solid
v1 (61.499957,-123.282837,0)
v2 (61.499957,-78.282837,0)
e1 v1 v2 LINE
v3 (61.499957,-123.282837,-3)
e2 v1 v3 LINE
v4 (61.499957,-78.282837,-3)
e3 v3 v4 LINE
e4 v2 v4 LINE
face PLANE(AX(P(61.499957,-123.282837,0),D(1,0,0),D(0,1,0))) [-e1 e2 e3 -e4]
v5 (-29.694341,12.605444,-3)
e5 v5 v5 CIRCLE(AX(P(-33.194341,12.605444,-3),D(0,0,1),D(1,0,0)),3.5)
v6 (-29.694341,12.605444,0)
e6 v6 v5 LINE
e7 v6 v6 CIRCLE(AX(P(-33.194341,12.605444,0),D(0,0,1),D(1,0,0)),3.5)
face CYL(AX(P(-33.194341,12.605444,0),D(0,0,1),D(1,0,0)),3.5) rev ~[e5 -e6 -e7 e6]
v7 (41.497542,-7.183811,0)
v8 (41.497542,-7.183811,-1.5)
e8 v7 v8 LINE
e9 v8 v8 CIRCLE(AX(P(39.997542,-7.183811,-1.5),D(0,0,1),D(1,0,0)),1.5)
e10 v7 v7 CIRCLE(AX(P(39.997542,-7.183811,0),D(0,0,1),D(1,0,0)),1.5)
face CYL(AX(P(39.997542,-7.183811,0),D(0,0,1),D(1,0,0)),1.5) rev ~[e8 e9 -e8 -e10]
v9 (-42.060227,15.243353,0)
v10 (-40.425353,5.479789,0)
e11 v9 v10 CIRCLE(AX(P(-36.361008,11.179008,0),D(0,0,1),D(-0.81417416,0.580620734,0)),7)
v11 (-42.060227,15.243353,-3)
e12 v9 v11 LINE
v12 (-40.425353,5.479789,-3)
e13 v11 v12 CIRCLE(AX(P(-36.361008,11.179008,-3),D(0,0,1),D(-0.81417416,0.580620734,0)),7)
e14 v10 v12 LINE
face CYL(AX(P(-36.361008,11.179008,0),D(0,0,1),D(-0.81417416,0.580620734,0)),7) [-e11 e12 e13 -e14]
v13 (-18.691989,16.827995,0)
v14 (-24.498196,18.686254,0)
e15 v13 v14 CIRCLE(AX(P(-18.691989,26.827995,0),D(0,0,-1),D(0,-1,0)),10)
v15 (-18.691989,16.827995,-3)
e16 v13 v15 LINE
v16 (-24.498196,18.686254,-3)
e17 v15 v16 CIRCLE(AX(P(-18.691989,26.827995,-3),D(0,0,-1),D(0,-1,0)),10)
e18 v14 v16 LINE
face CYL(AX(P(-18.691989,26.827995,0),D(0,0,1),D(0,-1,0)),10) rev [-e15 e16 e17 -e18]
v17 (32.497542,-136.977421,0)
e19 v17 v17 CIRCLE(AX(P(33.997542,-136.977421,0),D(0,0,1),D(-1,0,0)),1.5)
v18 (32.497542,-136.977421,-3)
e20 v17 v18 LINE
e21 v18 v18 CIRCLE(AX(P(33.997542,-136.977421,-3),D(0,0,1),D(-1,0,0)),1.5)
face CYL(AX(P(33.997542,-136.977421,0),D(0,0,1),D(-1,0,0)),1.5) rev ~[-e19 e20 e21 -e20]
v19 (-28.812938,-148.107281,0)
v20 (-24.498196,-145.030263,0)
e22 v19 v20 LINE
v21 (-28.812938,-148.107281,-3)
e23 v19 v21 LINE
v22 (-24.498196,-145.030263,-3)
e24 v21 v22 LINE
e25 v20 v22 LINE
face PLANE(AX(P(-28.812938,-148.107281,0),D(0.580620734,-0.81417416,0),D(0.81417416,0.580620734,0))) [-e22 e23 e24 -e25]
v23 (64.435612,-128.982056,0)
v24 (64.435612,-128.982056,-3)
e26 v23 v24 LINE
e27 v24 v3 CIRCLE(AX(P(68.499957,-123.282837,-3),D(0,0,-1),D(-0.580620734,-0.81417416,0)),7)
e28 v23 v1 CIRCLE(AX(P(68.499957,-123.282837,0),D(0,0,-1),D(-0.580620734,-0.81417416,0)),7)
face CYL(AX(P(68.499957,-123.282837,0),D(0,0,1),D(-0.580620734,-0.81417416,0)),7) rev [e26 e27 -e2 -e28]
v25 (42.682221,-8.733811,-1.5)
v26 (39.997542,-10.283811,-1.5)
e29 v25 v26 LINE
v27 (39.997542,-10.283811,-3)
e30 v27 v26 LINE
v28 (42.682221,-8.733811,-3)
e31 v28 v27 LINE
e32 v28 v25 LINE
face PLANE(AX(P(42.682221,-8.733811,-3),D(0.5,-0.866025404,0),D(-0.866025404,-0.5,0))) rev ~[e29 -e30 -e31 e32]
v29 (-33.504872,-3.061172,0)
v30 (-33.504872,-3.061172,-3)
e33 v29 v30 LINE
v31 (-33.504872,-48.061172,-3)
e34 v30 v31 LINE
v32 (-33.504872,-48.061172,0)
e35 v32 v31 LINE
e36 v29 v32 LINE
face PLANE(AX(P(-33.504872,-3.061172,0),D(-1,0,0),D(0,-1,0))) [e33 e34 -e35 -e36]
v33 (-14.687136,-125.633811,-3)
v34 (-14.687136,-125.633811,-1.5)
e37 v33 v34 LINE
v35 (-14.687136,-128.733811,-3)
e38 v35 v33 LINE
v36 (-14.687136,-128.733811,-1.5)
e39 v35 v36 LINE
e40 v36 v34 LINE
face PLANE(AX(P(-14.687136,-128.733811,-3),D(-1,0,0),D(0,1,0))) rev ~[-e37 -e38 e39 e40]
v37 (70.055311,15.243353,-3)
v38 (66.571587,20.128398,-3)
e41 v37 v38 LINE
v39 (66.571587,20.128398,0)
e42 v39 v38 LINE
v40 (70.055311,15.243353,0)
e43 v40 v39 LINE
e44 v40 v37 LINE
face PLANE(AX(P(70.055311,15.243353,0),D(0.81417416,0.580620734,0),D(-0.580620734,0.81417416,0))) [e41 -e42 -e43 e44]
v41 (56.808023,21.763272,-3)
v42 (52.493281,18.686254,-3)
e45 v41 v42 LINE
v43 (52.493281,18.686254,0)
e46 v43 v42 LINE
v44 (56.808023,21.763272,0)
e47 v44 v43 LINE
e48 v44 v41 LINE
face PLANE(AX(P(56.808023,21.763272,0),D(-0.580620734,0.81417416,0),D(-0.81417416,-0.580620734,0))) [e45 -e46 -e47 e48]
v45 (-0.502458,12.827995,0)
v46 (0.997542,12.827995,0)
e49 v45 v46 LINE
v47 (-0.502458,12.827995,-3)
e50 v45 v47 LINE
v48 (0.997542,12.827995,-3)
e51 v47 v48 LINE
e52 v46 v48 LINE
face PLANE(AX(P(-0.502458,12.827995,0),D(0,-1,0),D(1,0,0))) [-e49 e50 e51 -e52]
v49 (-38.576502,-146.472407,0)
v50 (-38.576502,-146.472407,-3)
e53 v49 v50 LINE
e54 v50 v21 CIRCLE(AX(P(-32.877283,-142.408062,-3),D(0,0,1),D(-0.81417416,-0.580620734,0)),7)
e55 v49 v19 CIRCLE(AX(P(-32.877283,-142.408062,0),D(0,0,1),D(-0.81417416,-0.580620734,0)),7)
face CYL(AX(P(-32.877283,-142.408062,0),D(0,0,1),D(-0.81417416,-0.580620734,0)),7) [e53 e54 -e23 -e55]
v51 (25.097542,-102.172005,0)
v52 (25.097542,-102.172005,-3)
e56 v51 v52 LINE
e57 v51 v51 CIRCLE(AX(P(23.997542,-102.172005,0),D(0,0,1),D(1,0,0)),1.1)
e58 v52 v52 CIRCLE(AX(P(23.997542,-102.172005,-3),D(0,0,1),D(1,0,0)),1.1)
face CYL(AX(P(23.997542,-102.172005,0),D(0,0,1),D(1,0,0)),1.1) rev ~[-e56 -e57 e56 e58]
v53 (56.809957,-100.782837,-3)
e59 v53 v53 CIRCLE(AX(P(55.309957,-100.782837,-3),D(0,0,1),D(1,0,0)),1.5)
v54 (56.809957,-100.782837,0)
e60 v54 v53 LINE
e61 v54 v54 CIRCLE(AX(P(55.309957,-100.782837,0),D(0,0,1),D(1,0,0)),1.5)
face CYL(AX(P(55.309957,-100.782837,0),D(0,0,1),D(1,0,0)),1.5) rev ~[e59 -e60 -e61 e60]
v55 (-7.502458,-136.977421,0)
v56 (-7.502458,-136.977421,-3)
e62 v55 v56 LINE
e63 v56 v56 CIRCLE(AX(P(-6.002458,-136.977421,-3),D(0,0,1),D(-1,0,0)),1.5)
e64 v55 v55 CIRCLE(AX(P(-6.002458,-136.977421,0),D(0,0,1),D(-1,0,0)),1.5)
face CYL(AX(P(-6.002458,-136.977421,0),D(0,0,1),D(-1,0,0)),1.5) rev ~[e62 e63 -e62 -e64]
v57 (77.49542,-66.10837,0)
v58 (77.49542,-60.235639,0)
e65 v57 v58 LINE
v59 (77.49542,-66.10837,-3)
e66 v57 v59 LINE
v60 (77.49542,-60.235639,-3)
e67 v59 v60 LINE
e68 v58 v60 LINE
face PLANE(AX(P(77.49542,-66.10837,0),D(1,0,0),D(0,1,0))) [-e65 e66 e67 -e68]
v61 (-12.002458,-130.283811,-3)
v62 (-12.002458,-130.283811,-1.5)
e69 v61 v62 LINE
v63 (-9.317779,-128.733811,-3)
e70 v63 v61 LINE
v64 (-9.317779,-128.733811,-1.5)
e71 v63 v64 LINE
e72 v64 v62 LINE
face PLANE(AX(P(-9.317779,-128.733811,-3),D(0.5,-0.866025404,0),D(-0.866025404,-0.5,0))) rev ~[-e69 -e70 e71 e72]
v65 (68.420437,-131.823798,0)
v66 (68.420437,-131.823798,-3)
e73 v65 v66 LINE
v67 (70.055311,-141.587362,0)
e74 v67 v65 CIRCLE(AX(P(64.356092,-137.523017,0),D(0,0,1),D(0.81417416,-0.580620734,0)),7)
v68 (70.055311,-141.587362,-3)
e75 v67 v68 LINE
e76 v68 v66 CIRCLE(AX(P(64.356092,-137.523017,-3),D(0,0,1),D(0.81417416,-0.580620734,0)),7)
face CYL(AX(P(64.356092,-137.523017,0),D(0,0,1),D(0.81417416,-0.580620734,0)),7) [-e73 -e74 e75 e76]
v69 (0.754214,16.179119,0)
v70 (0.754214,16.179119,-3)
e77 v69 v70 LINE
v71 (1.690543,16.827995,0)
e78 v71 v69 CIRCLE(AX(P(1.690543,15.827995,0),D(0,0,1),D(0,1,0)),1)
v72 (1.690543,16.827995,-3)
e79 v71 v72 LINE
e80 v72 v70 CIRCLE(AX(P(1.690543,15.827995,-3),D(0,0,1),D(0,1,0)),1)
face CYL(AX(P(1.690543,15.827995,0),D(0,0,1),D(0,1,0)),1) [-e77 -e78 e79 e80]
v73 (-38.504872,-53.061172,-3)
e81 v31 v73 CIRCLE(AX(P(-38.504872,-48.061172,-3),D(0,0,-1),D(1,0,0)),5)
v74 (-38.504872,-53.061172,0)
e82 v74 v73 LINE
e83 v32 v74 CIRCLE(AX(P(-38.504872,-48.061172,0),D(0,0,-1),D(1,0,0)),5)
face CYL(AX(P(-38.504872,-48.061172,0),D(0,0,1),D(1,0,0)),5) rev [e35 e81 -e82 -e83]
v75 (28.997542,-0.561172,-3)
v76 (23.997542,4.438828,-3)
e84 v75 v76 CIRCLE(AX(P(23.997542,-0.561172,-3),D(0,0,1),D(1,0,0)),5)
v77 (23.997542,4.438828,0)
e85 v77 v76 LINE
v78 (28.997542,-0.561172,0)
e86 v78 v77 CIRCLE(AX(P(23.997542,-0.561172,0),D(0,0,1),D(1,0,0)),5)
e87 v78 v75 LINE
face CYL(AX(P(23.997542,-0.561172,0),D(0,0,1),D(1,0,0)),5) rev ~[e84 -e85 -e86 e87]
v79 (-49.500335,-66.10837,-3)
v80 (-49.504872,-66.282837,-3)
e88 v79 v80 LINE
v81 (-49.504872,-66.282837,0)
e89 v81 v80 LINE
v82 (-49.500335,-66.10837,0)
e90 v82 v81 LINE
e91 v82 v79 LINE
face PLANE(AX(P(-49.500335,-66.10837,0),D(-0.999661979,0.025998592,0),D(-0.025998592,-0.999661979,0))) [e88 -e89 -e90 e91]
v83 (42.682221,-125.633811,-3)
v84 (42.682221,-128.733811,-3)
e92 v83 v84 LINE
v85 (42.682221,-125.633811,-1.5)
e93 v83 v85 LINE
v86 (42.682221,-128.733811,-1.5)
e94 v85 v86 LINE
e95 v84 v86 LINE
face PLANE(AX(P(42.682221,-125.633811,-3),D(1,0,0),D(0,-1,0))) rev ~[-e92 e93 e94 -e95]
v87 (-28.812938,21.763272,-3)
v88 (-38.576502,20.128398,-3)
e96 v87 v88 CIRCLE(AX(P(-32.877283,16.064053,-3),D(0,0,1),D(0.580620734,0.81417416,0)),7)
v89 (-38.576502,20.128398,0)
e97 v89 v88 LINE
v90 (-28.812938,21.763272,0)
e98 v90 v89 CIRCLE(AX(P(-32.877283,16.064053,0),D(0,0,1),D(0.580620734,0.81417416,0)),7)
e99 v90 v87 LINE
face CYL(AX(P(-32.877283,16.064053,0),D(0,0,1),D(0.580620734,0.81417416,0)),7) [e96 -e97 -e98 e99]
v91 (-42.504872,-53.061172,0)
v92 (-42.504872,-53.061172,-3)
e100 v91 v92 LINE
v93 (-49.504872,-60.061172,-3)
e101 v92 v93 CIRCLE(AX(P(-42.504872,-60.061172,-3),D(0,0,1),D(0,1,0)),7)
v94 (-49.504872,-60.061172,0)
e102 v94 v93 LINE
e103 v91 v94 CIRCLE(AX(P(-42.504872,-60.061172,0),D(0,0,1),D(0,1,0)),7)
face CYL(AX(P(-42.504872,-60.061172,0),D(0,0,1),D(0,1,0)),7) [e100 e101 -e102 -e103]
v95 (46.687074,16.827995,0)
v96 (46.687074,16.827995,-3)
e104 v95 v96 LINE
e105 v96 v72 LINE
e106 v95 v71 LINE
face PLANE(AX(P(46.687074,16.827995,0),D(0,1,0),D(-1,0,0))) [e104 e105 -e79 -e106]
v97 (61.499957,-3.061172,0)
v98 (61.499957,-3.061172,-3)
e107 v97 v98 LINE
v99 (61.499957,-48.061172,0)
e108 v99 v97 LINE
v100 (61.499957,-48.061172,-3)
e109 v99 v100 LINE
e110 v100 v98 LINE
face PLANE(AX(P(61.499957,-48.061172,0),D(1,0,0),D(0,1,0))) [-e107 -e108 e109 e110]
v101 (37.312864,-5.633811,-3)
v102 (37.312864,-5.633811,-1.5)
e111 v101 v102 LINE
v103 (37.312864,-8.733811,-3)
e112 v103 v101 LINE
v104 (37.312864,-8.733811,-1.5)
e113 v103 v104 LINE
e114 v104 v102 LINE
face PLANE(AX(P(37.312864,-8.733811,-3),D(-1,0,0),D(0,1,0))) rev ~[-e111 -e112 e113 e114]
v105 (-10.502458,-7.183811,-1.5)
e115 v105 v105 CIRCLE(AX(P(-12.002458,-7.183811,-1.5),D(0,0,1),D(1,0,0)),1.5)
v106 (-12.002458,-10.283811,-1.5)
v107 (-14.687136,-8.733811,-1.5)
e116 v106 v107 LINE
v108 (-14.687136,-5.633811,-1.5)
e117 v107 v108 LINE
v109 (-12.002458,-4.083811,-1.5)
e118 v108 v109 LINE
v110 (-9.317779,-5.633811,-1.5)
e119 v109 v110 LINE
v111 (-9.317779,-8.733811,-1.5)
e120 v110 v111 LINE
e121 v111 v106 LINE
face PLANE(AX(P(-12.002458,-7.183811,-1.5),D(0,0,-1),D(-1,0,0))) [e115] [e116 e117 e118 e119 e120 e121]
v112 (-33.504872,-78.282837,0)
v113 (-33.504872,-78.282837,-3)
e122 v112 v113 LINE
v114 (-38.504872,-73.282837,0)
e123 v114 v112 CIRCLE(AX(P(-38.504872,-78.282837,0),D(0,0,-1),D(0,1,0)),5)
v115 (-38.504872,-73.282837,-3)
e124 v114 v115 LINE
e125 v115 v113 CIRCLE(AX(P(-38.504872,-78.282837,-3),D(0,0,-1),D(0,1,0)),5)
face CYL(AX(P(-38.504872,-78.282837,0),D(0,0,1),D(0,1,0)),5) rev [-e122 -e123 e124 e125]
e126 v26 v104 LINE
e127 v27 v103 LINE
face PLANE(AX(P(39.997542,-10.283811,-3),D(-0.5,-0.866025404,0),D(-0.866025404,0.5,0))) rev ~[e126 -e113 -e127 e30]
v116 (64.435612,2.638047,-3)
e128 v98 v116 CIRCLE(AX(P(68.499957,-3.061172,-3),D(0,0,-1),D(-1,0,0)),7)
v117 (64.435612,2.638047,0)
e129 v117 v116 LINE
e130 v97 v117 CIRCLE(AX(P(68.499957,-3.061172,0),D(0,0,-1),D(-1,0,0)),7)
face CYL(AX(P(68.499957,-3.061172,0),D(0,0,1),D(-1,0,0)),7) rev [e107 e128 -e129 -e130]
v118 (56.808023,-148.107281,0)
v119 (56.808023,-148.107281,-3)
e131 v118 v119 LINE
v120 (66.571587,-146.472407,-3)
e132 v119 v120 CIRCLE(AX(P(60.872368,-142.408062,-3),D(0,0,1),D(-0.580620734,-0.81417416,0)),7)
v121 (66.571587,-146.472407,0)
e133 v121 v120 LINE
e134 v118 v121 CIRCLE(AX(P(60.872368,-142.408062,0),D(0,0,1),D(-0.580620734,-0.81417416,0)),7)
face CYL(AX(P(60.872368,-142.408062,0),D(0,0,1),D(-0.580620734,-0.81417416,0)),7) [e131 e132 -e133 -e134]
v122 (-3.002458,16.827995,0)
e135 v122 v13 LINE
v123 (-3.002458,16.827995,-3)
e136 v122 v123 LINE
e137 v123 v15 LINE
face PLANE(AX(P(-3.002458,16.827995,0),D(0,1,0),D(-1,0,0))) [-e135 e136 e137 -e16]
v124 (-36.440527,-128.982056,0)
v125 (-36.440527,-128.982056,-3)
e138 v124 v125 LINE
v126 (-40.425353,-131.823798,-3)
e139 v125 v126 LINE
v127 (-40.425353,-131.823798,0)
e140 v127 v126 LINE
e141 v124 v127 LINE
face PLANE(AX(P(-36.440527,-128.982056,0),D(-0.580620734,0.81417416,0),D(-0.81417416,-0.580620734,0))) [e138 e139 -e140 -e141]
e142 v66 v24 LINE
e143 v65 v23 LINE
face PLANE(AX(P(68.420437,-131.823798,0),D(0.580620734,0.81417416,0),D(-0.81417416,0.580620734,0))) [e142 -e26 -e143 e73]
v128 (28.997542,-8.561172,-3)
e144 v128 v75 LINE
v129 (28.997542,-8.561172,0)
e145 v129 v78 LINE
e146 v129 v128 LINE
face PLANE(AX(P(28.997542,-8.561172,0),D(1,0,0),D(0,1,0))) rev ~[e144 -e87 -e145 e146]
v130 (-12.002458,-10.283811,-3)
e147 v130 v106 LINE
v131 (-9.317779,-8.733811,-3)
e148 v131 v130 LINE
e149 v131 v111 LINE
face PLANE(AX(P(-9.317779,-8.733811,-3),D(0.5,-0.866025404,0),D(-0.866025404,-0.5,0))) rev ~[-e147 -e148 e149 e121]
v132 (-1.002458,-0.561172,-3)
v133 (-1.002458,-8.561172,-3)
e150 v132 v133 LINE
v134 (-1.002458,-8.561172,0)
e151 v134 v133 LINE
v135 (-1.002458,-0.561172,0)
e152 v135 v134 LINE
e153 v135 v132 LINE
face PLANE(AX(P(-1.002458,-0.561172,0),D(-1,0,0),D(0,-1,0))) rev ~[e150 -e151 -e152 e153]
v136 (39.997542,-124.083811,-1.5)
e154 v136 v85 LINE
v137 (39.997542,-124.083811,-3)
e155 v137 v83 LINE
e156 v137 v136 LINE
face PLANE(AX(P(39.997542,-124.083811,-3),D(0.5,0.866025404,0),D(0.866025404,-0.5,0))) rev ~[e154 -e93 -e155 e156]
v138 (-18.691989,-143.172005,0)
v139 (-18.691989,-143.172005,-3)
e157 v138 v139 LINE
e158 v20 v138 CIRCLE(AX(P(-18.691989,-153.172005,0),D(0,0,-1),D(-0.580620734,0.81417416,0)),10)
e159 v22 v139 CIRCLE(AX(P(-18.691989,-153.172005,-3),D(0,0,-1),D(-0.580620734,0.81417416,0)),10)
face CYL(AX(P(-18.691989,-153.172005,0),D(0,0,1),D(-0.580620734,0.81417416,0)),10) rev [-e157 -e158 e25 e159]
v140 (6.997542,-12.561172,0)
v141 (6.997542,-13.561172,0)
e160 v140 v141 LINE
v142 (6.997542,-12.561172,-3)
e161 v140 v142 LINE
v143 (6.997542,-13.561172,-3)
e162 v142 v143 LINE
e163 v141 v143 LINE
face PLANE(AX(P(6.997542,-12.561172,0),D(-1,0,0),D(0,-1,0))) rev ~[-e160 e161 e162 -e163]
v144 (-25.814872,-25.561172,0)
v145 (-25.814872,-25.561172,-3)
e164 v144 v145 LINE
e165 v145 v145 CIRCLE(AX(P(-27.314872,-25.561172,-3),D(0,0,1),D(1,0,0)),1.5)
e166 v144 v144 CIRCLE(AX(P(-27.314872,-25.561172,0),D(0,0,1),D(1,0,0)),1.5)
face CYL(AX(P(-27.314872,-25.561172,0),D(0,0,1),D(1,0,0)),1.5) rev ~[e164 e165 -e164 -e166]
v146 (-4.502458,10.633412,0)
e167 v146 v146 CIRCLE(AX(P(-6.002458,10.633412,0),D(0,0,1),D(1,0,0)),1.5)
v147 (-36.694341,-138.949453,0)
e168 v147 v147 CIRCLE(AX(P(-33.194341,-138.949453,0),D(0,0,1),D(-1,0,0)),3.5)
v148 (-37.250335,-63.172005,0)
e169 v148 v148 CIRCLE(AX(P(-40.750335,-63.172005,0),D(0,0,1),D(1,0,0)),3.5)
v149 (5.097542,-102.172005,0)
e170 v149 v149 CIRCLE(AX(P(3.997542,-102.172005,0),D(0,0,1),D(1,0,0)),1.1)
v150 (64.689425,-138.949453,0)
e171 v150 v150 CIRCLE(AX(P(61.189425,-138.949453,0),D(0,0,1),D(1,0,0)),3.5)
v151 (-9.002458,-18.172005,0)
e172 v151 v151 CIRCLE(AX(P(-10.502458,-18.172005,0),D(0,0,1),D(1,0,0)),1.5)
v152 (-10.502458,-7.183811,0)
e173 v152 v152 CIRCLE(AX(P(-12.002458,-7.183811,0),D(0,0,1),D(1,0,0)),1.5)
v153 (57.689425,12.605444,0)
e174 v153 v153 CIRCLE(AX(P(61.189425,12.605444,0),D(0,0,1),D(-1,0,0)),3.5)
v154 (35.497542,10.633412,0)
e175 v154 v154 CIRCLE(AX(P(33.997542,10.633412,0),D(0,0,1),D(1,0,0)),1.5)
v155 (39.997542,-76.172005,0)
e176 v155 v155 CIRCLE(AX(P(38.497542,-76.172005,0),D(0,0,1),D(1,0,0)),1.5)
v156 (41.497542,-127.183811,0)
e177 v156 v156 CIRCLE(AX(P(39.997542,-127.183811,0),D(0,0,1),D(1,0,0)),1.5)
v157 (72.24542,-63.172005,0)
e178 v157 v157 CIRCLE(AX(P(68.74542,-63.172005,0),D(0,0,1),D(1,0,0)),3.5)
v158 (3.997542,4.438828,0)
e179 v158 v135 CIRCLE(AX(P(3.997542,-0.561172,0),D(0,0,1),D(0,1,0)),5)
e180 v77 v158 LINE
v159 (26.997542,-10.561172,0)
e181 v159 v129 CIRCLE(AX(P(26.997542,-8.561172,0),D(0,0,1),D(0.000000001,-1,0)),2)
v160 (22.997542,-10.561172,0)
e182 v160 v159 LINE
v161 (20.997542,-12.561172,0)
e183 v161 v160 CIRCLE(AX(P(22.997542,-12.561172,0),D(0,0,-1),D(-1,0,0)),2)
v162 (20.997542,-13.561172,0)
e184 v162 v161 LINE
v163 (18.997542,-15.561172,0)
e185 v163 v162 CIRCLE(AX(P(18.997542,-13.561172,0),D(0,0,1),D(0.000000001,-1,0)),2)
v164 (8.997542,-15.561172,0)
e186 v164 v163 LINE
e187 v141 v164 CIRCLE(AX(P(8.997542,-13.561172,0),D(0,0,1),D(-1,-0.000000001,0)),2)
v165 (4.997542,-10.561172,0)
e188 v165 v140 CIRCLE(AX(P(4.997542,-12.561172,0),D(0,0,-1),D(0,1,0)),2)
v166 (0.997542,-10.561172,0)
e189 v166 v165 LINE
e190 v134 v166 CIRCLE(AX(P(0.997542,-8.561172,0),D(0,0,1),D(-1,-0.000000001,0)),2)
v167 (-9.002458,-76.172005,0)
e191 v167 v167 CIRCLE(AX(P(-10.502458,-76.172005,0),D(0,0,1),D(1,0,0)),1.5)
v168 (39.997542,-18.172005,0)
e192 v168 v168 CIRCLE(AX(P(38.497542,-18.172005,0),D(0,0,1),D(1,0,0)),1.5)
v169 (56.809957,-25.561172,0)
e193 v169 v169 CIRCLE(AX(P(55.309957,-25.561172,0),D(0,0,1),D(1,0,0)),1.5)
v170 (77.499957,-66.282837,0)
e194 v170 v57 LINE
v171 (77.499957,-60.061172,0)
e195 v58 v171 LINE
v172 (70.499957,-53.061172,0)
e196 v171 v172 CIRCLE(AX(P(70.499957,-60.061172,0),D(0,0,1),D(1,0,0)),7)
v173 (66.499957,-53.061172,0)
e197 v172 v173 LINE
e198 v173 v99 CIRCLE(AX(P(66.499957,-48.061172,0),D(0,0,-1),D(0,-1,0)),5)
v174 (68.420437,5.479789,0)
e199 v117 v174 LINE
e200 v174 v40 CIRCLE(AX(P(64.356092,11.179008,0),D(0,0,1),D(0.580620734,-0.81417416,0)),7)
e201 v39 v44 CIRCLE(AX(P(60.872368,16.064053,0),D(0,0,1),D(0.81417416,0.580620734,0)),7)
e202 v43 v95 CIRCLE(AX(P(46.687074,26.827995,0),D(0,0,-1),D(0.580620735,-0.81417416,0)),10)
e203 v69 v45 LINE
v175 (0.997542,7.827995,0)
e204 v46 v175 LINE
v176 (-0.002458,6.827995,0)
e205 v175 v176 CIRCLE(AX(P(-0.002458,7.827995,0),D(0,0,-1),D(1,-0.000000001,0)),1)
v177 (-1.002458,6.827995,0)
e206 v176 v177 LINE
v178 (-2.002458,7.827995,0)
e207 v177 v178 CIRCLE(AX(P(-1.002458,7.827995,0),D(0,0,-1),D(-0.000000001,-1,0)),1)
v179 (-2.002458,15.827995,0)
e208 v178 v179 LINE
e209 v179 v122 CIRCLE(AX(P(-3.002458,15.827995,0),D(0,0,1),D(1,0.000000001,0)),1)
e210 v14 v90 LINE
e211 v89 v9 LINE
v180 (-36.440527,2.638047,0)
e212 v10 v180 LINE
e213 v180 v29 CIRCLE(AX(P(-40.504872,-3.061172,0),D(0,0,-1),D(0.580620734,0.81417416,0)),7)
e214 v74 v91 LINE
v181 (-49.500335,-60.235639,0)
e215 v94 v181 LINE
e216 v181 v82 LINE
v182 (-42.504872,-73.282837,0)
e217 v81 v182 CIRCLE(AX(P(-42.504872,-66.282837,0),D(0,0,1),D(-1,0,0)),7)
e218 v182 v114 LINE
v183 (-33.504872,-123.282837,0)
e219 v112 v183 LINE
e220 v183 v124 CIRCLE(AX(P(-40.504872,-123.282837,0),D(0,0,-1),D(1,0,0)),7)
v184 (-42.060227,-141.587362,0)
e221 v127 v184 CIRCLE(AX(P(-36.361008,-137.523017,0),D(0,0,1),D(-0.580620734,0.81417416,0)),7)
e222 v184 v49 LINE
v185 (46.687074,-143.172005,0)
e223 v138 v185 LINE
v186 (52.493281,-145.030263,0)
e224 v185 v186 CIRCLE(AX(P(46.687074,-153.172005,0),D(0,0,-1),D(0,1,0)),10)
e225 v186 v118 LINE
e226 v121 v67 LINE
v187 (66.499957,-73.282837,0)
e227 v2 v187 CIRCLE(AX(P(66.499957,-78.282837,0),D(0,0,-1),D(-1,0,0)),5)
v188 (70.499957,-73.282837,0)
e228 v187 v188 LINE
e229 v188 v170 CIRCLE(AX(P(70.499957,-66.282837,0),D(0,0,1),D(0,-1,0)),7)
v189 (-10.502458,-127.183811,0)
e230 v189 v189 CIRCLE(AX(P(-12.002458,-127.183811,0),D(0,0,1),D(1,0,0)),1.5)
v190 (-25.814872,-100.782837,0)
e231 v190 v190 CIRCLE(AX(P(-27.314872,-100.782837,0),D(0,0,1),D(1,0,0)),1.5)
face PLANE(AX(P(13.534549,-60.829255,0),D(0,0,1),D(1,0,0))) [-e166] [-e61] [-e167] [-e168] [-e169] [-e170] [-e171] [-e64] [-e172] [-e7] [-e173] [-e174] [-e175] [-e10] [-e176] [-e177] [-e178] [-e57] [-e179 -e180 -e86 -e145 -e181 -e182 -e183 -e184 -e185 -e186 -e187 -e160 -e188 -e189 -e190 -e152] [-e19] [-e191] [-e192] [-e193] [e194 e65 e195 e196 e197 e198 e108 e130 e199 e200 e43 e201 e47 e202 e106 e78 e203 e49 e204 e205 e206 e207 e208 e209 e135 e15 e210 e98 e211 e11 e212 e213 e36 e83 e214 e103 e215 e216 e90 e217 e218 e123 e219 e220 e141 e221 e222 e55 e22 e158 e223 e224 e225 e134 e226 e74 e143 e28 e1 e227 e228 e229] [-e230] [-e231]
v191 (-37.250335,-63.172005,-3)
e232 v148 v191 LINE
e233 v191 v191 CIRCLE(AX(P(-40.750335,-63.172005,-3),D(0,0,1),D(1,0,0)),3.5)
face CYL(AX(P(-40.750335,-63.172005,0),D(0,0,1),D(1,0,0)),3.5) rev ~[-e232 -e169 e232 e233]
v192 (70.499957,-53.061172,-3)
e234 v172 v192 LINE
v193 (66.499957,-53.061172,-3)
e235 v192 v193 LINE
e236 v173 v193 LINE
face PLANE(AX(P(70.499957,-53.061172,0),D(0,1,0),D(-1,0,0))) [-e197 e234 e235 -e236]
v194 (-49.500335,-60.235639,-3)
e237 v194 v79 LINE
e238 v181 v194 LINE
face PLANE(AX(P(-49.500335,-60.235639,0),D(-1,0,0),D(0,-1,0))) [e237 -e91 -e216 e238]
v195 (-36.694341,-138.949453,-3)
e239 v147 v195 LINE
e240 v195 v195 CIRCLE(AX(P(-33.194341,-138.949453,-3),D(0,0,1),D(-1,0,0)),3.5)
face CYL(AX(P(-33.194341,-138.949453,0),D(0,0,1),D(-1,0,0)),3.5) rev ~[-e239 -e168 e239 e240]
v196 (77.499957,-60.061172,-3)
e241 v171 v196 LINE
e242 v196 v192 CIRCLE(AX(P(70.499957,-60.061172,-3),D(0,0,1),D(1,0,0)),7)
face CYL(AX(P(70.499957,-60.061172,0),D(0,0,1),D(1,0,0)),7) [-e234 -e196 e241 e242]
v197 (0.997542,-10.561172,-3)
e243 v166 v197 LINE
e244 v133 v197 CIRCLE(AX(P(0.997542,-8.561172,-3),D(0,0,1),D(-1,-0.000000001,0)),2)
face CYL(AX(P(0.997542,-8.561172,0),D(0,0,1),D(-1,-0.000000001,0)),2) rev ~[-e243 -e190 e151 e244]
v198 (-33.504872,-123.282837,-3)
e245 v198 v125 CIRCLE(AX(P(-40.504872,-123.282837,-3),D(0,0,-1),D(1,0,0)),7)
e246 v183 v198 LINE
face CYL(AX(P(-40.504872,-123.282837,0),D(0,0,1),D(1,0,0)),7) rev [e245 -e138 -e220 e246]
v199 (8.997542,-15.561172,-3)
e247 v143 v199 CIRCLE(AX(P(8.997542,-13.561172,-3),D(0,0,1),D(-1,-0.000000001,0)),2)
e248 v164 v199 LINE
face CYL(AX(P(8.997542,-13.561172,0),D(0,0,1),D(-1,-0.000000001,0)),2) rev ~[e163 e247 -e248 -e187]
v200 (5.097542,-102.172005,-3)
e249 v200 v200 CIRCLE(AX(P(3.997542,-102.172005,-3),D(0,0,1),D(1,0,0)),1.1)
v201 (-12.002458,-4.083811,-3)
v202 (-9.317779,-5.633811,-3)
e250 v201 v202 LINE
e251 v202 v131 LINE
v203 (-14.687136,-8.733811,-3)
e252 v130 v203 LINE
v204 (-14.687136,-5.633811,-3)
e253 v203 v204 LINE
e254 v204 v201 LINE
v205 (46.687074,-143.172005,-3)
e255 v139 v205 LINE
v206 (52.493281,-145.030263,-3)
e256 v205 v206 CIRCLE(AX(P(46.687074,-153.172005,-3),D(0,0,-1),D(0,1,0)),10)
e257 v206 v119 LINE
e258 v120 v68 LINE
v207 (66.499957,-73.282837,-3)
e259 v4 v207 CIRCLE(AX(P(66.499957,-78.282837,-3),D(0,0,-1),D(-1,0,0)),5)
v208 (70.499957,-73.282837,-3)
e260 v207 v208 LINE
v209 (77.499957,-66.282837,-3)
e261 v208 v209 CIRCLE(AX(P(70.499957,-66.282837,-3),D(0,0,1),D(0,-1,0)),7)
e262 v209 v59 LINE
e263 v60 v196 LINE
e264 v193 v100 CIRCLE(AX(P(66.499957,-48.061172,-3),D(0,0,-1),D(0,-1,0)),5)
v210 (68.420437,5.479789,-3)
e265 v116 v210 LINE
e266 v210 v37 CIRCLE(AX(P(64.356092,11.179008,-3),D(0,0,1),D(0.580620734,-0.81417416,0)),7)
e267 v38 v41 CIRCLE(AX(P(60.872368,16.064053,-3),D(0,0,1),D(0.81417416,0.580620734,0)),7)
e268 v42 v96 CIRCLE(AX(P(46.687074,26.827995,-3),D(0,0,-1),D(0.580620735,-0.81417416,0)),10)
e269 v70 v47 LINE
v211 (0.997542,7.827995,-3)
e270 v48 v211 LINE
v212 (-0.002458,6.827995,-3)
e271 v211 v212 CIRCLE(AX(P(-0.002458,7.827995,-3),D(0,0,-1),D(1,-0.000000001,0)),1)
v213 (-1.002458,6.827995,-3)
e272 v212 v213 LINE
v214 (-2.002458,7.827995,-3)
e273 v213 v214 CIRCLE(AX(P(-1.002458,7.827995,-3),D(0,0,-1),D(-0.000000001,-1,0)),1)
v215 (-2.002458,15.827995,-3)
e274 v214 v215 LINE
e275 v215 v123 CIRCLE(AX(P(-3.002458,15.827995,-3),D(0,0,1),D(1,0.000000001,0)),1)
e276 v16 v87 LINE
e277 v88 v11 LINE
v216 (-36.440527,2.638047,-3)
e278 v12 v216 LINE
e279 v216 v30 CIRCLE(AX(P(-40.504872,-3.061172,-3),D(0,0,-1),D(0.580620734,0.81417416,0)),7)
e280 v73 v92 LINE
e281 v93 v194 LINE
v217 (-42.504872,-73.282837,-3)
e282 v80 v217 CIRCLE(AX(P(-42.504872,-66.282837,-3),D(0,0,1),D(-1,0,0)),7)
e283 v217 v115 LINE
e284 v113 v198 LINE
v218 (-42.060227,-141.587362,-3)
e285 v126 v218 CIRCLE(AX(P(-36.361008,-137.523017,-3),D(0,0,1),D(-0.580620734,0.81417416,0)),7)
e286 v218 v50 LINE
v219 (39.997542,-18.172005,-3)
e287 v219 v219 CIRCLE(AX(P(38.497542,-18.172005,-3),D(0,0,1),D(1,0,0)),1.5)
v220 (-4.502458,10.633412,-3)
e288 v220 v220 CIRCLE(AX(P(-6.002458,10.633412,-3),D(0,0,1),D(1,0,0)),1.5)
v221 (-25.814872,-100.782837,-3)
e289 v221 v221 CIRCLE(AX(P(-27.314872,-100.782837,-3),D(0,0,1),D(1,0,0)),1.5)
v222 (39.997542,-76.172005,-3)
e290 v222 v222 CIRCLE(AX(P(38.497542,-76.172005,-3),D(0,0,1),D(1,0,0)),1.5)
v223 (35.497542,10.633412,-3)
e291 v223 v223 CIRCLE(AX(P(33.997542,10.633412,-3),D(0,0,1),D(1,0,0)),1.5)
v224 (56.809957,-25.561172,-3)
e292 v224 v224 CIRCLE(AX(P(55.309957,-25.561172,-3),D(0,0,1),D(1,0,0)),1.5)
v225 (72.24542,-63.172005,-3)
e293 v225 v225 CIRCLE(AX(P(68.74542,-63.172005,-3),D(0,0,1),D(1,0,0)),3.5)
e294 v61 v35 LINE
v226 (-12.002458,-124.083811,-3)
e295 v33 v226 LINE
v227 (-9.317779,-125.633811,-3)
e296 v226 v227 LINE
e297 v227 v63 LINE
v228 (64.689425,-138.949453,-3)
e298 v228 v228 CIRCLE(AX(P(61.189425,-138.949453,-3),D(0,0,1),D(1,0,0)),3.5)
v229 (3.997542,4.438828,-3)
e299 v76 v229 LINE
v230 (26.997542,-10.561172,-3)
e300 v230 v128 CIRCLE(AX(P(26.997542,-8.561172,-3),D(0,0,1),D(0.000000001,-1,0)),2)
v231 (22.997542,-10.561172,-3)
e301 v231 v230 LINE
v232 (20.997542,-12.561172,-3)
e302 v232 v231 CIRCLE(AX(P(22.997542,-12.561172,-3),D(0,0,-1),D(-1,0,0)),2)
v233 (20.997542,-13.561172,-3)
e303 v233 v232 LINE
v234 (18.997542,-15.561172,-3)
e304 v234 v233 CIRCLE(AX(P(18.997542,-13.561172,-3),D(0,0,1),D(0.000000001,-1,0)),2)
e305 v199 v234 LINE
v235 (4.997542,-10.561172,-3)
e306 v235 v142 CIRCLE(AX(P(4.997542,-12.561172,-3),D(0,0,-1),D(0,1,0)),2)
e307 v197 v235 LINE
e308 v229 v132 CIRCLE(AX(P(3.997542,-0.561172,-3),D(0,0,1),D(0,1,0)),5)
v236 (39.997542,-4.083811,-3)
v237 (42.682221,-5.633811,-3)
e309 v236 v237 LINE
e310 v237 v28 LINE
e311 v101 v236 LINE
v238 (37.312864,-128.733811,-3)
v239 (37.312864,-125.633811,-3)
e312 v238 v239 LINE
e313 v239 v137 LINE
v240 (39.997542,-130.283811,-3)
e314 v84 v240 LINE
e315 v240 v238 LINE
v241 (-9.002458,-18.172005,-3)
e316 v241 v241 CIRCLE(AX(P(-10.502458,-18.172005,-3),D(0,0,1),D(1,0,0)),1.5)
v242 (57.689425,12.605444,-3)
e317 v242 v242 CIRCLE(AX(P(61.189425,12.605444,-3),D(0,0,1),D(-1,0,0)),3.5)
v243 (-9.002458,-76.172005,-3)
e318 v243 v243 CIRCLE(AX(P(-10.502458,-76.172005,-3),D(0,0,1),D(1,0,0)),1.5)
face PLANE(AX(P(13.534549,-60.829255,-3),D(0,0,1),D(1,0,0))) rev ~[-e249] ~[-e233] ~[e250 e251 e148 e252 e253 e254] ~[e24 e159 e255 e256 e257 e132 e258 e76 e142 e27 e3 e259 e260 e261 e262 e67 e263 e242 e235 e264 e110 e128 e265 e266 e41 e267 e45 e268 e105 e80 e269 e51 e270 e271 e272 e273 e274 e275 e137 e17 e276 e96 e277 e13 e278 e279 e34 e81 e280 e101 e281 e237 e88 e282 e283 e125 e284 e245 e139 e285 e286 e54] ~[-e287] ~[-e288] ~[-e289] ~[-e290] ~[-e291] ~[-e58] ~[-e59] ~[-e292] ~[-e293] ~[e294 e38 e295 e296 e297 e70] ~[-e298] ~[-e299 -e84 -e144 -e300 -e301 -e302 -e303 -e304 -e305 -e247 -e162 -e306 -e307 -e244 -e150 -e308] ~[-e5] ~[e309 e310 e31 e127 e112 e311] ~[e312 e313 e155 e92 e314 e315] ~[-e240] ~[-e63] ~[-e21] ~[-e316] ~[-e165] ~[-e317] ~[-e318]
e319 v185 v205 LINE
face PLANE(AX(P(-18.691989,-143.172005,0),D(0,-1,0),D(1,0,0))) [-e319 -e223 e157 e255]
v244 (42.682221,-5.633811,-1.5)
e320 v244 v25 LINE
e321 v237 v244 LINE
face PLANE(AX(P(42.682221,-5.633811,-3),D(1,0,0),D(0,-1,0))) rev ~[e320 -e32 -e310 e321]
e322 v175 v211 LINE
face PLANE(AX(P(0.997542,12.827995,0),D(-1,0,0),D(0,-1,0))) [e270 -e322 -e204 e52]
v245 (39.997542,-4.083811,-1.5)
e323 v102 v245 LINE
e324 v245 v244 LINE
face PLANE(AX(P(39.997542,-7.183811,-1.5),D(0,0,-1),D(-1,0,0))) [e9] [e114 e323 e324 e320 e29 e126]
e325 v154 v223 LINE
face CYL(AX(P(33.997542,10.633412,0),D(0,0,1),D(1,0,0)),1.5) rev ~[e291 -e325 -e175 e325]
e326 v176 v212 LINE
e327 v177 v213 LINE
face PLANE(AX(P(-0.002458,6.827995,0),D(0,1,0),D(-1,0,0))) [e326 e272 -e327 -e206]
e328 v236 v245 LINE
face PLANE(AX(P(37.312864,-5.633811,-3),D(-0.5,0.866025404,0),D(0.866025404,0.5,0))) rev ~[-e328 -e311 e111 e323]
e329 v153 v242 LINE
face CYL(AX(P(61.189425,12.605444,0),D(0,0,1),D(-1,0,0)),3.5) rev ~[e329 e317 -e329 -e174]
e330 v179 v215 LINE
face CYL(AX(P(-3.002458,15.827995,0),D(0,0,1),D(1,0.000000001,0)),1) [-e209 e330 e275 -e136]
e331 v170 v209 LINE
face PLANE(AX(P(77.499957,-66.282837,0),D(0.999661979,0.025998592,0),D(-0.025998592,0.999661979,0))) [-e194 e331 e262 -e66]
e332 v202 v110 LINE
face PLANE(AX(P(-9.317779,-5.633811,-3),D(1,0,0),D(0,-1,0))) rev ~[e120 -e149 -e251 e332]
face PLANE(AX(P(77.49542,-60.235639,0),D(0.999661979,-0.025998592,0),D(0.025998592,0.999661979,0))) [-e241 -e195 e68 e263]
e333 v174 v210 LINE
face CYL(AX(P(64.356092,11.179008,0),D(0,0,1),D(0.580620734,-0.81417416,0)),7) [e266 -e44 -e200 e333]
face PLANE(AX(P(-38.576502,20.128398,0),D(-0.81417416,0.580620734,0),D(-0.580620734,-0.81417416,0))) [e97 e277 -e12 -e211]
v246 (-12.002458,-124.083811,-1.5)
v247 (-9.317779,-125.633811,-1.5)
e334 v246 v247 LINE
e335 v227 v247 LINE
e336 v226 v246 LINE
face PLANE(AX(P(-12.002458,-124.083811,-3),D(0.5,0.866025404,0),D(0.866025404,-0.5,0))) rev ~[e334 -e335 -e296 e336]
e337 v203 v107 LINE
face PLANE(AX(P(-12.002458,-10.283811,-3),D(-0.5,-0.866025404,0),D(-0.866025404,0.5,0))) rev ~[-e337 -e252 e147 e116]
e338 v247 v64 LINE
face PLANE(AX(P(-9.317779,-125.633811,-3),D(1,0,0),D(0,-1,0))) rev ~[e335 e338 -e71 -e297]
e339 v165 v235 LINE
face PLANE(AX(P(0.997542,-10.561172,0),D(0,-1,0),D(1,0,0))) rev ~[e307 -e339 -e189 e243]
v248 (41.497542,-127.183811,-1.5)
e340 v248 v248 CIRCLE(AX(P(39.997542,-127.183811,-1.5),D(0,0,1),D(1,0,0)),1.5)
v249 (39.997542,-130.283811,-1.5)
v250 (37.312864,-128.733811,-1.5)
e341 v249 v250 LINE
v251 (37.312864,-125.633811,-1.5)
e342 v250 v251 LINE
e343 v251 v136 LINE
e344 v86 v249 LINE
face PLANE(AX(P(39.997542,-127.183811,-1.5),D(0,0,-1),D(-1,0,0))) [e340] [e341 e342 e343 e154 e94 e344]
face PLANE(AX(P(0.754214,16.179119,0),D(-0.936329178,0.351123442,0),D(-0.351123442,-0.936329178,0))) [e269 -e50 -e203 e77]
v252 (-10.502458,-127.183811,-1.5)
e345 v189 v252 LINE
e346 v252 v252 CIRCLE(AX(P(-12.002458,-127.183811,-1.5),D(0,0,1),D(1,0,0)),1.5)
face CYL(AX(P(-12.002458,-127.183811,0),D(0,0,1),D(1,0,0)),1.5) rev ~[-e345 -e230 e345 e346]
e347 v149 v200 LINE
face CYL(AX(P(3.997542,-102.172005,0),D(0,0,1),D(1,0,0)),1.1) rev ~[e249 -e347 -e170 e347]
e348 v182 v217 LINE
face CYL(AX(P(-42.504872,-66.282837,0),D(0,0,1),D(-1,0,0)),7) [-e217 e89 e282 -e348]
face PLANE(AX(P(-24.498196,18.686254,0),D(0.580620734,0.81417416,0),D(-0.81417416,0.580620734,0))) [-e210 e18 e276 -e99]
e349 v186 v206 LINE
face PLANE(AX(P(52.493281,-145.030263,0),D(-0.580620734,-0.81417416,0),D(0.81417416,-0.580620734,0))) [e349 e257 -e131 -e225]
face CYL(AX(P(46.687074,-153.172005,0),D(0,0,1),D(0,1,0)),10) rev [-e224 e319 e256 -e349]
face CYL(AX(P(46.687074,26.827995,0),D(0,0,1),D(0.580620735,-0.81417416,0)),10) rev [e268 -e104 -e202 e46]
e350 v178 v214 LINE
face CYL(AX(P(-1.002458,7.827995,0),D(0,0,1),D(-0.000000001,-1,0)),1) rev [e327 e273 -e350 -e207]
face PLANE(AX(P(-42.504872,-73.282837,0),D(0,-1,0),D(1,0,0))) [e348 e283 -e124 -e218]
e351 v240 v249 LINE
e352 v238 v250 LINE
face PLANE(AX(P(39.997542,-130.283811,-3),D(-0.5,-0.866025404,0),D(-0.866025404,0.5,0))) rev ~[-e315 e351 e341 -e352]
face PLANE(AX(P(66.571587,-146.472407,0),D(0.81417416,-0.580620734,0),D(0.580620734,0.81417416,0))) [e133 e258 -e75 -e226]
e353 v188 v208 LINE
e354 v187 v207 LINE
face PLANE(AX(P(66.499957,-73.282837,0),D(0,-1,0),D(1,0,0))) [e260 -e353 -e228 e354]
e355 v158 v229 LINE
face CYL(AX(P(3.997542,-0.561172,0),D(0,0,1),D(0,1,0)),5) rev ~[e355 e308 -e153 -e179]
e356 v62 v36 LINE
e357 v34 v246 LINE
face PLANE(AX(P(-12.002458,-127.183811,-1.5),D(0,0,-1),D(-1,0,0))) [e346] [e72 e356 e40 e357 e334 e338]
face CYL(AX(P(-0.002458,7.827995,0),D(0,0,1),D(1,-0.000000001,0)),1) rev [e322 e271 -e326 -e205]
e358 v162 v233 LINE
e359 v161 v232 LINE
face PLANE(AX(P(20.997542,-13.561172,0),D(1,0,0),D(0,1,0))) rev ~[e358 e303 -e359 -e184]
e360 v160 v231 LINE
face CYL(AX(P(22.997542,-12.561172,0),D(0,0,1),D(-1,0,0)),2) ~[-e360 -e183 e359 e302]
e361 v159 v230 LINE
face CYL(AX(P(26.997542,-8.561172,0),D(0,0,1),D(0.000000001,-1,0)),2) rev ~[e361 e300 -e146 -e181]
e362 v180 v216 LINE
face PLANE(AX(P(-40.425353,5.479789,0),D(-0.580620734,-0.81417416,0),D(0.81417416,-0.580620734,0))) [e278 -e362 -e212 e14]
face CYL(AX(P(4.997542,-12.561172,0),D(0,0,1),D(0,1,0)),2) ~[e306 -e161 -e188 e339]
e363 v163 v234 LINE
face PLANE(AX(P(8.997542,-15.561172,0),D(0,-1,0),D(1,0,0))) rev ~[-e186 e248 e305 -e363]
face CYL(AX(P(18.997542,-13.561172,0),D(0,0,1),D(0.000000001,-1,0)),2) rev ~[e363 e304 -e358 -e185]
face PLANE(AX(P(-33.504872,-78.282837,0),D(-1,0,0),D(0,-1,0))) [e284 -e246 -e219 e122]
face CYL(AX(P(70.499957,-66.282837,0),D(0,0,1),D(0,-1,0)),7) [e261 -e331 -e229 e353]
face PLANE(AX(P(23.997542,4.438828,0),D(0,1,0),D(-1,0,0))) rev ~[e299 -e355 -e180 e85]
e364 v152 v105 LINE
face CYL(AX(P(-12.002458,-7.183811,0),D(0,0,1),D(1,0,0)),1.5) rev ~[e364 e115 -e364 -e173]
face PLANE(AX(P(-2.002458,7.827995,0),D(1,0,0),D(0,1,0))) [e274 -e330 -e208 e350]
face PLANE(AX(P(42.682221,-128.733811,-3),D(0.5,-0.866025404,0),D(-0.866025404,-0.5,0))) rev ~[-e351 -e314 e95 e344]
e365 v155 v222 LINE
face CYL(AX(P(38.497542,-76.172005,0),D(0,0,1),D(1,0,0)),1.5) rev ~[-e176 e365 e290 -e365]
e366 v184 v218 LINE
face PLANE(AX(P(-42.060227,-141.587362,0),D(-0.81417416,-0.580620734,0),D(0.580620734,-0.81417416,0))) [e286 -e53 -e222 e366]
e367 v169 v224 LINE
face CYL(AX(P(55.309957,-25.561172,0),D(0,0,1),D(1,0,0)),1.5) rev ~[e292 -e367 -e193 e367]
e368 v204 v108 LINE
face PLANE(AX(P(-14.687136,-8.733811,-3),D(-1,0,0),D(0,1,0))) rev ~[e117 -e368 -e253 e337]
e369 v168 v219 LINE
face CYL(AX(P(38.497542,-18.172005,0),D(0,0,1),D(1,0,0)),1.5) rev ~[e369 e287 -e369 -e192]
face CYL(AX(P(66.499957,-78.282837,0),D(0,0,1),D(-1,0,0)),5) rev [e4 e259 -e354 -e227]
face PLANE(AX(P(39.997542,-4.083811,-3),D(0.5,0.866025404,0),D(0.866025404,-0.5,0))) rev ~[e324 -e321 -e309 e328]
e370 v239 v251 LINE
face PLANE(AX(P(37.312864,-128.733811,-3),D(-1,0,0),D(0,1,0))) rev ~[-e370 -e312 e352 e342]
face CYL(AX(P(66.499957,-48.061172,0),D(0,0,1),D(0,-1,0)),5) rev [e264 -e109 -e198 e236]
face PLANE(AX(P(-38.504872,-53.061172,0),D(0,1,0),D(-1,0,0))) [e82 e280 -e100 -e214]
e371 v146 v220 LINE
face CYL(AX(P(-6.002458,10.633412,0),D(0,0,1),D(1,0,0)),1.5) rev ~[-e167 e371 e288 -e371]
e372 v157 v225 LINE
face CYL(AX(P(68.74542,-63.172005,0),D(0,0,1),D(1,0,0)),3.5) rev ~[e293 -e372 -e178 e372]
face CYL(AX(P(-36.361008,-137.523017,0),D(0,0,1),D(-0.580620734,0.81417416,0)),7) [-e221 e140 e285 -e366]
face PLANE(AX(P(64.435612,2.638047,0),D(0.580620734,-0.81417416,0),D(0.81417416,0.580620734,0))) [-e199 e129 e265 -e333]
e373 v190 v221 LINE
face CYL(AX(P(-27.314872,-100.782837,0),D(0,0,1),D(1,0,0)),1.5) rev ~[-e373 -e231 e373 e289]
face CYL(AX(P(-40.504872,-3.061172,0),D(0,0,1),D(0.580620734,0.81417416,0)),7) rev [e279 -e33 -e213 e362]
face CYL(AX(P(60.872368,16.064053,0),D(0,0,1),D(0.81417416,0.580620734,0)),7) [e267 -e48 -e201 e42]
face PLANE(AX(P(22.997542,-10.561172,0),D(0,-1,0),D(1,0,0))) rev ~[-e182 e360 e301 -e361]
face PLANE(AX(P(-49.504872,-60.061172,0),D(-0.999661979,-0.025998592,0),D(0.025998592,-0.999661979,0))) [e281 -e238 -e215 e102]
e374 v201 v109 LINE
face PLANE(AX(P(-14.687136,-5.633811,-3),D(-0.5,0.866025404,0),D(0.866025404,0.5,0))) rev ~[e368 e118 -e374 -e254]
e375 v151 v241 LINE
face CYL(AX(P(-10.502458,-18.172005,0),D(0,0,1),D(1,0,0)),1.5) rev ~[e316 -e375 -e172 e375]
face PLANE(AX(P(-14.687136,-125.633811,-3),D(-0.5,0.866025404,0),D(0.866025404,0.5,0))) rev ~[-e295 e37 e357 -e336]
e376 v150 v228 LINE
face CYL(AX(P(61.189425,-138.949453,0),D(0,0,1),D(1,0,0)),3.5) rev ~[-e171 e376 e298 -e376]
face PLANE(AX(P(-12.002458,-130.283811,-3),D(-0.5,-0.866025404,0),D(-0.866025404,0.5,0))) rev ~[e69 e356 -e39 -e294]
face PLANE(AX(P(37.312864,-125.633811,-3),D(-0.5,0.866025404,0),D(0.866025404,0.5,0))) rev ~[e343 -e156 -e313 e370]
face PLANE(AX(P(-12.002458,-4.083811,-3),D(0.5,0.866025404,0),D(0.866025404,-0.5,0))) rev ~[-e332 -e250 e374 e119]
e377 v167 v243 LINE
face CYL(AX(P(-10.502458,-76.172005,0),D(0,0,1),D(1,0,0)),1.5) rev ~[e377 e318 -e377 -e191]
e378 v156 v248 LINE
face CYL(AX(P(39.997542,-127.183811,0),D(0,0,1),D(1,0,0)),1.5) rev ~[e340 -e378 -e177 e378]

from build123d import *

# Parameters (mm, degrees)
SKETCH1_R           = 3.5
SKETCH1_R_2         = 1.5
SKETCH1_R_3         = 1.1
EXTRUDE_1_DEPTH     = 3
CUT_EXTRUDE_1_DEPTH = 1.5


with BuildPart() as part:
    # Sketch1 → Бобышка-Вытянуть1 (new body)
    with BuildSketch(Plane.XY):
        with BuildLine():
            Line((-24.498196466, 18.686253871), (-28.812938034, 21.763271713))
            ThreePointArc((-28.812938034, 21.763271713), (-34.033313652, 22.967935089), (-38.576502294, 20.128397731))
            Line((-38.576502294, 20.128397731), (-42.0602267, 15.24335277))
            ThreePointArc((-42.0602267, 15.24335277), (-43.264890076, 10.022977152), (-40.425352718, 5.47978851))
            Line((-40.425352718, 5.47978851), (-36.440527218, 2.638047245))
            ThreePointArc((-36.440527218, 2.638047245), (-34.281914219, 0.144259766), (-33.504872357, -3.061171876))
            Line((-33.504872357, -3.061171876), (-33.504872357, -48.061171876))
            ThreePointArc((-33.504872357, -48.061171876), (-34.969338451, -51.596705782), (-38.504872357, -53.061171876))
            Line((-38.504872357, -53.061171876), (-42.504872357, -53.061171876))
            ThreePointArc((-42.504872357, -53.061171876), (-47.454619825, -55.111424407), (-49.504872357, -60.061171876))
            Line((-49.504872357, -60.061171876), (-49.500334917, -60.235639257))
            Line((-49.500334917, -60.235639257), (-49.500334917, -66.108369799))
            Line((-49.500334917, -66.108369799), (-49.504872357, -66.28283718))
            ThreePointArc((-49.504872357, -66.28283718), (-47.454619825, -71.232584649), (-42.504872357, -73.28283718))
            Line((-42.504872357, -73.28283718), (-38.504872357, -73.28283718))
            ThreePointArc((-38.504872357, -73.28283718), (-34.969338451, -74.747303275), (-33.504872357, -78.28283718))
            Line((-33.504872357, -78.28283718), (-33.504872357, -123.28283718))
            ThreePointArc((-33.504872357, -123.28283718), (-34.281914219, -126.488268823), (-36.440527218, -128.982056301))
            Line((-36.440527218, -128.982056301), (-40.425352718, -131.823797566))
            ThreePointArc((-40.425352718, -131.823797566), (-43.264890076, -136.366986209), (-42.0602267, -141.587361827))
            Line((-42.0602267, -141.587361827), (-38.576502294, -146.472406787))
            ThreePointArc((-38.576502294, -146.472406787), (-34.033313652, -149.311944145), (-28.812938034, -148.107280769))
            Line((-28.812938034, -148.107280769), (-24.498196466, -145.030262927))
            ThreePointArc((-24.498196466, -145.030262927), (-21.740151192, -143.647892601), (-18.691989124, -143.172004528))
            Line((-18.691989124, -143.172004528), (46.687073776, -143.172004528))
            ThreePointArc((46.687073776, -143.172004528), (49.735235844, -143.647892601), (52.493281118, -145.030262927))
            Line((52.493281118, -145.030262927), (56.808022686, -148.107280769))
            ThreePointArc((56.808022686, -148.107280769), (62.028398304, -149.311944145), (66.571586947, -146.472406787))
            Line((66.571586947, -146.472406787), (70.055311352, -141.587361827))
            ThreePointArc((70.055311352, -141.587361827), (71.259974728, -136.366986209), (68.42043737, -131.823797566))
            Line((68.42043737, -131.823797566), (64.43561187, -128.982056301))
            ThreePointArc((64.43561187, -128.982056301), (62.276998871, -126.488268823), (61.499957009, -123.28283718))
            Line((61.499957009, -123.28283718), (61.499957009, -78.28283718))
            ThreePointArc((61.499957009, -78.28283718), (62.964423103, -74.747303275), (66.499957009, -73.28283718))
            Line((66.499957009, -73.28283718), (70.499957009, -73.28283718))
            ThreePointArc((70.499957009, -73.28283718), (75.449704478, -71.232584649), (77.499957009, -66.28283718))
            Line((77.499957009, -66.28283718), (77.495419569, -66.108369799))
            Line((77.495419569, -66.108369799), (77.495419569, -60.235639257))
            Line((77.495419569, -60.235639257), (77.499957009, -60.061171876))
            ThreePointArc((77.499957009, -60.061171876), (75.449704478, -55.111424407), (70.499957009, -53.061171876))
            Line((70.499957009, -53.061171876), (66.499957009, -53.061171876))
            ThreePointArc((66.499957009, -53.061171876), (62.964423103, -51.596705782), (61.499957009, -48.061171876))
            Line((61.499957009, -48.061171876), (61.499957009, -3.061171876))
            ThreePointArc((61.499957009, -3.061171876), (62.276998871, 0.144259766), (64.43561187, 2.638047245))
            Line((64.43561187, 2.638047245), (68.42043737, 5.47978851))
            ThreePointArc((68.42043737, 5.47978851), (71.259974728, 10.022977152), (70.055311352, 15.24335277))
            Line((70.055311352, 15.24335277), (66.571586947, 20.128397731))
            ThreePointArc((66.571586947, 20.128397731), (62.028398304, 22.967935089), (56.808022686, 21.763271713))
            Line((56.808022686, 21.763271713), (52.493281118, 18.686253871))
            ThreePointArc((52.493281118, 18.686253871), (49.735235844, 17.303883544), (46.687073776, 16.827995472))
            Line((46.687073776, 16.827995472), (1.690542794, 16.827995472))
            ThreePointArc((1.690542794, 16.827995472), (1.120947956, 16.649921089), (0.754213617, 16.179118913))
            Line((0.754213617, 16.179118913), (-0.502457674, 12.827995472))
            Line((-0.502457674, 12.827995472), (0.997542326, 12.827995472))
            Line((0.997542326, 12.827995472), (0.997542326, 7.827995472))
            ThreePointArc((0.997542326, 7.827995472), (0.704649107, 7.120888691), (-0.002457674, 6.827995472))
            Line((-0.002457674, 6.827995472), (-1.002457674, 6.827995472))
            ThreePointArc((-1.002457674, 6.827995472), (-1.709564455, 7.120888691), (-2.002457674, 7.827995472))
            Line((-2.002457674, 7.827995472), (-2.002457674, 15.827995472))
            ThreePointArc((-2.002457674, 15.827995472), (-2.295350893, 16.535102253), (-3.002457674, 16.827995472))
            Line((-3.002457674, 16.827995472), (-18.691989124, 16.827995472))
            ThreePointArc((-18.691989124, 16.827995472), (-21.740151192, 17.303883544), (-24.498196466, 18.686253871))
        make_face()
        with Locations((68.745419569, -63.172004528)):
            Circle(SKETCH1_R, mode=Mode.SUBTRACT)
        with Locations((-40.750334917, -63.172004528)):
            Circle(SKETCH1_R, mode=Mode.SUBTRACT)
        with Locations((33.997542326, 10.633411798)):
            Circle(SKETCH1_R_2, mode=Mode.SUBTRACT)
        with Locations((-6.002457674, 10.633411798)):
            Circle(SKETCH1_R_2, mode=Mode.SUBTRACT)
        with Locations((-33.194340596, 12.605443826)):
            Circle(SKETCH1_R, mode=Mode.SUBTRACT)
        with Locations(Location((61.189425248, 12.605443826, 0), (0, 0, 180))):
            Circle(SKETCH1_R, mode=Mode.SUBTRACT)
        with Locations(Location((-6.002457674, -136.977420854, 0), (0, 0, 180))):
            Circle(SKETCH1_R_2, mode=Mode.SUBTRACT)
        with Locations(Location((33.997542326, -136.977420854, 0), (0, 0, 180))):
            Circle(SKETCH1_R_2, mode=Mode.SUBTRACT)
        with Locations((-27.314872357, -100.78283718)):
            Circle(SKETCH1_R_2, mode=Mode.SUBTRACT)
        with Locations((55.309957009, -100.78283718)):
            Circle(SKETCH1_R_2, mode=Mode.SUBTRACT)
        with Locations((-27.314872357, -25.561171876)):
            Circle(SKETCH1_R_2, mode=Mode.SUBTRACT)
        with Locations((55.309957009, -25.561171876)):
            Circle(SKETCH1_R_2, mode=Mode.SUBTRACT)
        with Locations((-12.002457674, -127.18381063)):
            Circle(SKETCH1_R_2, mode=Mode.SUBTRACT)
        with Locations((39.997542326, -127.18381063)):
            Circle(SKETCH1_R_2, mode=Mode.SUBTRACT)
        with Locations((61.189425248, -138.949452883)):
            Circle(SKETCH1_R, mode=Mode.SUBTRACT)
        with Locations(Location((-33.194340596, -138.949452883, 0), (0, 0, 180))):
            Circle(SKETCH1_R, mode=Mode.SUBTRACT)
        with Locations((38.497542326, -76.172004528)):
            Circle(SKETCH1_R_2, mode=Mode.SUBTRACT)
        with Locations((-10.502457674, -76.172004528)):
            Circle(SKETCH1_R_2, mode=Mode.SUBTRACT)
        with Locations((39.997542326, -7.18381063)):
            Circle(SKETCH1_R_2, mode=Mode.SUBTRACT)
        with Locations((-12.002457674, -7.18381063)):
            Circle(SKETCH1_R_2, mode=Mode.SUBTRACT)
        with Locations((3.997542326, -102.172004528)):
            Circle(SKETCH1_R_3, mode=Mode.SUBTRACT)
        with Locations((23.997542326, -102.172004528)):
            Circle(SKETCH1_R_3, mode=Mode.SUBTRACT)
        with Locations((38.497542326, -18.172004528)):
            Circle(SKETCH1_R_2, mode=Mode.SUBTRACT)
        with Locations((-10.502457674, -18.172004528)):
            Circle(SKETCH1_R_2, mode=Mode.SUBTRACT)
        with BuildLine():
            Line((22.997542326, -10.561171876), (26.997542326, -10.561171876))
            ThreePointArc((26.997542326, -10.561171876), (28.411755888, -9.975385438), (28.997542326, -8.561171876))
            Line((28.997542326, -8.561171876), (28.997542326, -0.561171876))
            ThreePointArc((28.997542326, -0.561171876), (27.533076232, 2.97436203), (23.997542326, 4.438828124))
            Line((23.997542326, 4.438828124), (3.997542326, 4.438828124))
            ThreePointArc((3.997542326, 4.438828124), (0.46200842, 2.97436203), (-1.002457674, -0.561171876))
            Line((-1.002457674, -0.561171876), (-1.002457674, -8.561171876))
            ThreePointArc((-1.002457674, -8.561171876), (-0.416671236, -9.975385438), (0.997542326, -10.561171876))
            Line((0.997542326, -10.561171876), (4.997542326, -10.561171876))
            ThreePointArc((4.997542326, -10.561171876), (6.411755888, -11.146958313), (6.997542326, -12.561171876))
            Line((6.997542326, -12.561171876), (6.997542326, -13.561171876))
            ThreePointArc((6.997542326, -13.561171876), (7.583328764, -14.975385438), (8.997542326, -15.561171876))
            Line((8.997542326, -15.561171876), (18.997542326, -15.561171876))
            ThreePointArc((18.997542326, -15.561171876), (20.411755888, -14.975385438), (20.997542326, -13.561171876))
            Line((20.997542326, -13.561171876), (20.997542326, -12.561171876))
            ThreePointArc((20.997542326, -12.561171876), (21.583328764, -11.146958313), (22.997542326, -10.561171876))
        make_face(mode=Mode.SUBTRACT)
    extrude(amount=-EXTRUDE_1_DEPTH)

    # Эскиз1 → Вырез-Вытянуть1 (cut)
    with BuildSketch(Plane(origin=(0, 0, -3), x_dir=(-1, 0, 0), z_dir=(0, 0, -1))):
        Polygon((12.002457674, -4.08381063), (9.317778922, -5.63381063), (9.317778922, -8.73381063), (12.002457674, -10.28381063), (14.687136426, -8.73381063), (14.687136426, -5.63381063), align=None)
        Polygon((-39.997542326, -4.08381063), (-42.682221078, -5.63381063), (-42.682221078, -8.73381063), (-39.997542326, -10.28381063), (-37.312863574, -8.73381063), (-37.312863574, -5.63381063), align=None)
        Polygon((-39.997542326, -130.28381063), (-37.312863574, -128.73381063), (-37.312863574, -125.63381063), (-39.997542326, -124.08381063), (-42.682221078, -125.63381063), (-42.682221078, -128.73381063), align=None)
        Polygon((12.002457674, -130.28381063), (14.687136426, -128.73381063), (14.687136426, -125.63381063), (12.002457674, -124.08381063), (9.317778922, -125.63381063), (9.317778922, -128.73381063), align=None)
    extrude(amount=-CUT_EXTRUDE_1_DEPTH, mode=Mode.SUBTRACT)


solid = part.part
